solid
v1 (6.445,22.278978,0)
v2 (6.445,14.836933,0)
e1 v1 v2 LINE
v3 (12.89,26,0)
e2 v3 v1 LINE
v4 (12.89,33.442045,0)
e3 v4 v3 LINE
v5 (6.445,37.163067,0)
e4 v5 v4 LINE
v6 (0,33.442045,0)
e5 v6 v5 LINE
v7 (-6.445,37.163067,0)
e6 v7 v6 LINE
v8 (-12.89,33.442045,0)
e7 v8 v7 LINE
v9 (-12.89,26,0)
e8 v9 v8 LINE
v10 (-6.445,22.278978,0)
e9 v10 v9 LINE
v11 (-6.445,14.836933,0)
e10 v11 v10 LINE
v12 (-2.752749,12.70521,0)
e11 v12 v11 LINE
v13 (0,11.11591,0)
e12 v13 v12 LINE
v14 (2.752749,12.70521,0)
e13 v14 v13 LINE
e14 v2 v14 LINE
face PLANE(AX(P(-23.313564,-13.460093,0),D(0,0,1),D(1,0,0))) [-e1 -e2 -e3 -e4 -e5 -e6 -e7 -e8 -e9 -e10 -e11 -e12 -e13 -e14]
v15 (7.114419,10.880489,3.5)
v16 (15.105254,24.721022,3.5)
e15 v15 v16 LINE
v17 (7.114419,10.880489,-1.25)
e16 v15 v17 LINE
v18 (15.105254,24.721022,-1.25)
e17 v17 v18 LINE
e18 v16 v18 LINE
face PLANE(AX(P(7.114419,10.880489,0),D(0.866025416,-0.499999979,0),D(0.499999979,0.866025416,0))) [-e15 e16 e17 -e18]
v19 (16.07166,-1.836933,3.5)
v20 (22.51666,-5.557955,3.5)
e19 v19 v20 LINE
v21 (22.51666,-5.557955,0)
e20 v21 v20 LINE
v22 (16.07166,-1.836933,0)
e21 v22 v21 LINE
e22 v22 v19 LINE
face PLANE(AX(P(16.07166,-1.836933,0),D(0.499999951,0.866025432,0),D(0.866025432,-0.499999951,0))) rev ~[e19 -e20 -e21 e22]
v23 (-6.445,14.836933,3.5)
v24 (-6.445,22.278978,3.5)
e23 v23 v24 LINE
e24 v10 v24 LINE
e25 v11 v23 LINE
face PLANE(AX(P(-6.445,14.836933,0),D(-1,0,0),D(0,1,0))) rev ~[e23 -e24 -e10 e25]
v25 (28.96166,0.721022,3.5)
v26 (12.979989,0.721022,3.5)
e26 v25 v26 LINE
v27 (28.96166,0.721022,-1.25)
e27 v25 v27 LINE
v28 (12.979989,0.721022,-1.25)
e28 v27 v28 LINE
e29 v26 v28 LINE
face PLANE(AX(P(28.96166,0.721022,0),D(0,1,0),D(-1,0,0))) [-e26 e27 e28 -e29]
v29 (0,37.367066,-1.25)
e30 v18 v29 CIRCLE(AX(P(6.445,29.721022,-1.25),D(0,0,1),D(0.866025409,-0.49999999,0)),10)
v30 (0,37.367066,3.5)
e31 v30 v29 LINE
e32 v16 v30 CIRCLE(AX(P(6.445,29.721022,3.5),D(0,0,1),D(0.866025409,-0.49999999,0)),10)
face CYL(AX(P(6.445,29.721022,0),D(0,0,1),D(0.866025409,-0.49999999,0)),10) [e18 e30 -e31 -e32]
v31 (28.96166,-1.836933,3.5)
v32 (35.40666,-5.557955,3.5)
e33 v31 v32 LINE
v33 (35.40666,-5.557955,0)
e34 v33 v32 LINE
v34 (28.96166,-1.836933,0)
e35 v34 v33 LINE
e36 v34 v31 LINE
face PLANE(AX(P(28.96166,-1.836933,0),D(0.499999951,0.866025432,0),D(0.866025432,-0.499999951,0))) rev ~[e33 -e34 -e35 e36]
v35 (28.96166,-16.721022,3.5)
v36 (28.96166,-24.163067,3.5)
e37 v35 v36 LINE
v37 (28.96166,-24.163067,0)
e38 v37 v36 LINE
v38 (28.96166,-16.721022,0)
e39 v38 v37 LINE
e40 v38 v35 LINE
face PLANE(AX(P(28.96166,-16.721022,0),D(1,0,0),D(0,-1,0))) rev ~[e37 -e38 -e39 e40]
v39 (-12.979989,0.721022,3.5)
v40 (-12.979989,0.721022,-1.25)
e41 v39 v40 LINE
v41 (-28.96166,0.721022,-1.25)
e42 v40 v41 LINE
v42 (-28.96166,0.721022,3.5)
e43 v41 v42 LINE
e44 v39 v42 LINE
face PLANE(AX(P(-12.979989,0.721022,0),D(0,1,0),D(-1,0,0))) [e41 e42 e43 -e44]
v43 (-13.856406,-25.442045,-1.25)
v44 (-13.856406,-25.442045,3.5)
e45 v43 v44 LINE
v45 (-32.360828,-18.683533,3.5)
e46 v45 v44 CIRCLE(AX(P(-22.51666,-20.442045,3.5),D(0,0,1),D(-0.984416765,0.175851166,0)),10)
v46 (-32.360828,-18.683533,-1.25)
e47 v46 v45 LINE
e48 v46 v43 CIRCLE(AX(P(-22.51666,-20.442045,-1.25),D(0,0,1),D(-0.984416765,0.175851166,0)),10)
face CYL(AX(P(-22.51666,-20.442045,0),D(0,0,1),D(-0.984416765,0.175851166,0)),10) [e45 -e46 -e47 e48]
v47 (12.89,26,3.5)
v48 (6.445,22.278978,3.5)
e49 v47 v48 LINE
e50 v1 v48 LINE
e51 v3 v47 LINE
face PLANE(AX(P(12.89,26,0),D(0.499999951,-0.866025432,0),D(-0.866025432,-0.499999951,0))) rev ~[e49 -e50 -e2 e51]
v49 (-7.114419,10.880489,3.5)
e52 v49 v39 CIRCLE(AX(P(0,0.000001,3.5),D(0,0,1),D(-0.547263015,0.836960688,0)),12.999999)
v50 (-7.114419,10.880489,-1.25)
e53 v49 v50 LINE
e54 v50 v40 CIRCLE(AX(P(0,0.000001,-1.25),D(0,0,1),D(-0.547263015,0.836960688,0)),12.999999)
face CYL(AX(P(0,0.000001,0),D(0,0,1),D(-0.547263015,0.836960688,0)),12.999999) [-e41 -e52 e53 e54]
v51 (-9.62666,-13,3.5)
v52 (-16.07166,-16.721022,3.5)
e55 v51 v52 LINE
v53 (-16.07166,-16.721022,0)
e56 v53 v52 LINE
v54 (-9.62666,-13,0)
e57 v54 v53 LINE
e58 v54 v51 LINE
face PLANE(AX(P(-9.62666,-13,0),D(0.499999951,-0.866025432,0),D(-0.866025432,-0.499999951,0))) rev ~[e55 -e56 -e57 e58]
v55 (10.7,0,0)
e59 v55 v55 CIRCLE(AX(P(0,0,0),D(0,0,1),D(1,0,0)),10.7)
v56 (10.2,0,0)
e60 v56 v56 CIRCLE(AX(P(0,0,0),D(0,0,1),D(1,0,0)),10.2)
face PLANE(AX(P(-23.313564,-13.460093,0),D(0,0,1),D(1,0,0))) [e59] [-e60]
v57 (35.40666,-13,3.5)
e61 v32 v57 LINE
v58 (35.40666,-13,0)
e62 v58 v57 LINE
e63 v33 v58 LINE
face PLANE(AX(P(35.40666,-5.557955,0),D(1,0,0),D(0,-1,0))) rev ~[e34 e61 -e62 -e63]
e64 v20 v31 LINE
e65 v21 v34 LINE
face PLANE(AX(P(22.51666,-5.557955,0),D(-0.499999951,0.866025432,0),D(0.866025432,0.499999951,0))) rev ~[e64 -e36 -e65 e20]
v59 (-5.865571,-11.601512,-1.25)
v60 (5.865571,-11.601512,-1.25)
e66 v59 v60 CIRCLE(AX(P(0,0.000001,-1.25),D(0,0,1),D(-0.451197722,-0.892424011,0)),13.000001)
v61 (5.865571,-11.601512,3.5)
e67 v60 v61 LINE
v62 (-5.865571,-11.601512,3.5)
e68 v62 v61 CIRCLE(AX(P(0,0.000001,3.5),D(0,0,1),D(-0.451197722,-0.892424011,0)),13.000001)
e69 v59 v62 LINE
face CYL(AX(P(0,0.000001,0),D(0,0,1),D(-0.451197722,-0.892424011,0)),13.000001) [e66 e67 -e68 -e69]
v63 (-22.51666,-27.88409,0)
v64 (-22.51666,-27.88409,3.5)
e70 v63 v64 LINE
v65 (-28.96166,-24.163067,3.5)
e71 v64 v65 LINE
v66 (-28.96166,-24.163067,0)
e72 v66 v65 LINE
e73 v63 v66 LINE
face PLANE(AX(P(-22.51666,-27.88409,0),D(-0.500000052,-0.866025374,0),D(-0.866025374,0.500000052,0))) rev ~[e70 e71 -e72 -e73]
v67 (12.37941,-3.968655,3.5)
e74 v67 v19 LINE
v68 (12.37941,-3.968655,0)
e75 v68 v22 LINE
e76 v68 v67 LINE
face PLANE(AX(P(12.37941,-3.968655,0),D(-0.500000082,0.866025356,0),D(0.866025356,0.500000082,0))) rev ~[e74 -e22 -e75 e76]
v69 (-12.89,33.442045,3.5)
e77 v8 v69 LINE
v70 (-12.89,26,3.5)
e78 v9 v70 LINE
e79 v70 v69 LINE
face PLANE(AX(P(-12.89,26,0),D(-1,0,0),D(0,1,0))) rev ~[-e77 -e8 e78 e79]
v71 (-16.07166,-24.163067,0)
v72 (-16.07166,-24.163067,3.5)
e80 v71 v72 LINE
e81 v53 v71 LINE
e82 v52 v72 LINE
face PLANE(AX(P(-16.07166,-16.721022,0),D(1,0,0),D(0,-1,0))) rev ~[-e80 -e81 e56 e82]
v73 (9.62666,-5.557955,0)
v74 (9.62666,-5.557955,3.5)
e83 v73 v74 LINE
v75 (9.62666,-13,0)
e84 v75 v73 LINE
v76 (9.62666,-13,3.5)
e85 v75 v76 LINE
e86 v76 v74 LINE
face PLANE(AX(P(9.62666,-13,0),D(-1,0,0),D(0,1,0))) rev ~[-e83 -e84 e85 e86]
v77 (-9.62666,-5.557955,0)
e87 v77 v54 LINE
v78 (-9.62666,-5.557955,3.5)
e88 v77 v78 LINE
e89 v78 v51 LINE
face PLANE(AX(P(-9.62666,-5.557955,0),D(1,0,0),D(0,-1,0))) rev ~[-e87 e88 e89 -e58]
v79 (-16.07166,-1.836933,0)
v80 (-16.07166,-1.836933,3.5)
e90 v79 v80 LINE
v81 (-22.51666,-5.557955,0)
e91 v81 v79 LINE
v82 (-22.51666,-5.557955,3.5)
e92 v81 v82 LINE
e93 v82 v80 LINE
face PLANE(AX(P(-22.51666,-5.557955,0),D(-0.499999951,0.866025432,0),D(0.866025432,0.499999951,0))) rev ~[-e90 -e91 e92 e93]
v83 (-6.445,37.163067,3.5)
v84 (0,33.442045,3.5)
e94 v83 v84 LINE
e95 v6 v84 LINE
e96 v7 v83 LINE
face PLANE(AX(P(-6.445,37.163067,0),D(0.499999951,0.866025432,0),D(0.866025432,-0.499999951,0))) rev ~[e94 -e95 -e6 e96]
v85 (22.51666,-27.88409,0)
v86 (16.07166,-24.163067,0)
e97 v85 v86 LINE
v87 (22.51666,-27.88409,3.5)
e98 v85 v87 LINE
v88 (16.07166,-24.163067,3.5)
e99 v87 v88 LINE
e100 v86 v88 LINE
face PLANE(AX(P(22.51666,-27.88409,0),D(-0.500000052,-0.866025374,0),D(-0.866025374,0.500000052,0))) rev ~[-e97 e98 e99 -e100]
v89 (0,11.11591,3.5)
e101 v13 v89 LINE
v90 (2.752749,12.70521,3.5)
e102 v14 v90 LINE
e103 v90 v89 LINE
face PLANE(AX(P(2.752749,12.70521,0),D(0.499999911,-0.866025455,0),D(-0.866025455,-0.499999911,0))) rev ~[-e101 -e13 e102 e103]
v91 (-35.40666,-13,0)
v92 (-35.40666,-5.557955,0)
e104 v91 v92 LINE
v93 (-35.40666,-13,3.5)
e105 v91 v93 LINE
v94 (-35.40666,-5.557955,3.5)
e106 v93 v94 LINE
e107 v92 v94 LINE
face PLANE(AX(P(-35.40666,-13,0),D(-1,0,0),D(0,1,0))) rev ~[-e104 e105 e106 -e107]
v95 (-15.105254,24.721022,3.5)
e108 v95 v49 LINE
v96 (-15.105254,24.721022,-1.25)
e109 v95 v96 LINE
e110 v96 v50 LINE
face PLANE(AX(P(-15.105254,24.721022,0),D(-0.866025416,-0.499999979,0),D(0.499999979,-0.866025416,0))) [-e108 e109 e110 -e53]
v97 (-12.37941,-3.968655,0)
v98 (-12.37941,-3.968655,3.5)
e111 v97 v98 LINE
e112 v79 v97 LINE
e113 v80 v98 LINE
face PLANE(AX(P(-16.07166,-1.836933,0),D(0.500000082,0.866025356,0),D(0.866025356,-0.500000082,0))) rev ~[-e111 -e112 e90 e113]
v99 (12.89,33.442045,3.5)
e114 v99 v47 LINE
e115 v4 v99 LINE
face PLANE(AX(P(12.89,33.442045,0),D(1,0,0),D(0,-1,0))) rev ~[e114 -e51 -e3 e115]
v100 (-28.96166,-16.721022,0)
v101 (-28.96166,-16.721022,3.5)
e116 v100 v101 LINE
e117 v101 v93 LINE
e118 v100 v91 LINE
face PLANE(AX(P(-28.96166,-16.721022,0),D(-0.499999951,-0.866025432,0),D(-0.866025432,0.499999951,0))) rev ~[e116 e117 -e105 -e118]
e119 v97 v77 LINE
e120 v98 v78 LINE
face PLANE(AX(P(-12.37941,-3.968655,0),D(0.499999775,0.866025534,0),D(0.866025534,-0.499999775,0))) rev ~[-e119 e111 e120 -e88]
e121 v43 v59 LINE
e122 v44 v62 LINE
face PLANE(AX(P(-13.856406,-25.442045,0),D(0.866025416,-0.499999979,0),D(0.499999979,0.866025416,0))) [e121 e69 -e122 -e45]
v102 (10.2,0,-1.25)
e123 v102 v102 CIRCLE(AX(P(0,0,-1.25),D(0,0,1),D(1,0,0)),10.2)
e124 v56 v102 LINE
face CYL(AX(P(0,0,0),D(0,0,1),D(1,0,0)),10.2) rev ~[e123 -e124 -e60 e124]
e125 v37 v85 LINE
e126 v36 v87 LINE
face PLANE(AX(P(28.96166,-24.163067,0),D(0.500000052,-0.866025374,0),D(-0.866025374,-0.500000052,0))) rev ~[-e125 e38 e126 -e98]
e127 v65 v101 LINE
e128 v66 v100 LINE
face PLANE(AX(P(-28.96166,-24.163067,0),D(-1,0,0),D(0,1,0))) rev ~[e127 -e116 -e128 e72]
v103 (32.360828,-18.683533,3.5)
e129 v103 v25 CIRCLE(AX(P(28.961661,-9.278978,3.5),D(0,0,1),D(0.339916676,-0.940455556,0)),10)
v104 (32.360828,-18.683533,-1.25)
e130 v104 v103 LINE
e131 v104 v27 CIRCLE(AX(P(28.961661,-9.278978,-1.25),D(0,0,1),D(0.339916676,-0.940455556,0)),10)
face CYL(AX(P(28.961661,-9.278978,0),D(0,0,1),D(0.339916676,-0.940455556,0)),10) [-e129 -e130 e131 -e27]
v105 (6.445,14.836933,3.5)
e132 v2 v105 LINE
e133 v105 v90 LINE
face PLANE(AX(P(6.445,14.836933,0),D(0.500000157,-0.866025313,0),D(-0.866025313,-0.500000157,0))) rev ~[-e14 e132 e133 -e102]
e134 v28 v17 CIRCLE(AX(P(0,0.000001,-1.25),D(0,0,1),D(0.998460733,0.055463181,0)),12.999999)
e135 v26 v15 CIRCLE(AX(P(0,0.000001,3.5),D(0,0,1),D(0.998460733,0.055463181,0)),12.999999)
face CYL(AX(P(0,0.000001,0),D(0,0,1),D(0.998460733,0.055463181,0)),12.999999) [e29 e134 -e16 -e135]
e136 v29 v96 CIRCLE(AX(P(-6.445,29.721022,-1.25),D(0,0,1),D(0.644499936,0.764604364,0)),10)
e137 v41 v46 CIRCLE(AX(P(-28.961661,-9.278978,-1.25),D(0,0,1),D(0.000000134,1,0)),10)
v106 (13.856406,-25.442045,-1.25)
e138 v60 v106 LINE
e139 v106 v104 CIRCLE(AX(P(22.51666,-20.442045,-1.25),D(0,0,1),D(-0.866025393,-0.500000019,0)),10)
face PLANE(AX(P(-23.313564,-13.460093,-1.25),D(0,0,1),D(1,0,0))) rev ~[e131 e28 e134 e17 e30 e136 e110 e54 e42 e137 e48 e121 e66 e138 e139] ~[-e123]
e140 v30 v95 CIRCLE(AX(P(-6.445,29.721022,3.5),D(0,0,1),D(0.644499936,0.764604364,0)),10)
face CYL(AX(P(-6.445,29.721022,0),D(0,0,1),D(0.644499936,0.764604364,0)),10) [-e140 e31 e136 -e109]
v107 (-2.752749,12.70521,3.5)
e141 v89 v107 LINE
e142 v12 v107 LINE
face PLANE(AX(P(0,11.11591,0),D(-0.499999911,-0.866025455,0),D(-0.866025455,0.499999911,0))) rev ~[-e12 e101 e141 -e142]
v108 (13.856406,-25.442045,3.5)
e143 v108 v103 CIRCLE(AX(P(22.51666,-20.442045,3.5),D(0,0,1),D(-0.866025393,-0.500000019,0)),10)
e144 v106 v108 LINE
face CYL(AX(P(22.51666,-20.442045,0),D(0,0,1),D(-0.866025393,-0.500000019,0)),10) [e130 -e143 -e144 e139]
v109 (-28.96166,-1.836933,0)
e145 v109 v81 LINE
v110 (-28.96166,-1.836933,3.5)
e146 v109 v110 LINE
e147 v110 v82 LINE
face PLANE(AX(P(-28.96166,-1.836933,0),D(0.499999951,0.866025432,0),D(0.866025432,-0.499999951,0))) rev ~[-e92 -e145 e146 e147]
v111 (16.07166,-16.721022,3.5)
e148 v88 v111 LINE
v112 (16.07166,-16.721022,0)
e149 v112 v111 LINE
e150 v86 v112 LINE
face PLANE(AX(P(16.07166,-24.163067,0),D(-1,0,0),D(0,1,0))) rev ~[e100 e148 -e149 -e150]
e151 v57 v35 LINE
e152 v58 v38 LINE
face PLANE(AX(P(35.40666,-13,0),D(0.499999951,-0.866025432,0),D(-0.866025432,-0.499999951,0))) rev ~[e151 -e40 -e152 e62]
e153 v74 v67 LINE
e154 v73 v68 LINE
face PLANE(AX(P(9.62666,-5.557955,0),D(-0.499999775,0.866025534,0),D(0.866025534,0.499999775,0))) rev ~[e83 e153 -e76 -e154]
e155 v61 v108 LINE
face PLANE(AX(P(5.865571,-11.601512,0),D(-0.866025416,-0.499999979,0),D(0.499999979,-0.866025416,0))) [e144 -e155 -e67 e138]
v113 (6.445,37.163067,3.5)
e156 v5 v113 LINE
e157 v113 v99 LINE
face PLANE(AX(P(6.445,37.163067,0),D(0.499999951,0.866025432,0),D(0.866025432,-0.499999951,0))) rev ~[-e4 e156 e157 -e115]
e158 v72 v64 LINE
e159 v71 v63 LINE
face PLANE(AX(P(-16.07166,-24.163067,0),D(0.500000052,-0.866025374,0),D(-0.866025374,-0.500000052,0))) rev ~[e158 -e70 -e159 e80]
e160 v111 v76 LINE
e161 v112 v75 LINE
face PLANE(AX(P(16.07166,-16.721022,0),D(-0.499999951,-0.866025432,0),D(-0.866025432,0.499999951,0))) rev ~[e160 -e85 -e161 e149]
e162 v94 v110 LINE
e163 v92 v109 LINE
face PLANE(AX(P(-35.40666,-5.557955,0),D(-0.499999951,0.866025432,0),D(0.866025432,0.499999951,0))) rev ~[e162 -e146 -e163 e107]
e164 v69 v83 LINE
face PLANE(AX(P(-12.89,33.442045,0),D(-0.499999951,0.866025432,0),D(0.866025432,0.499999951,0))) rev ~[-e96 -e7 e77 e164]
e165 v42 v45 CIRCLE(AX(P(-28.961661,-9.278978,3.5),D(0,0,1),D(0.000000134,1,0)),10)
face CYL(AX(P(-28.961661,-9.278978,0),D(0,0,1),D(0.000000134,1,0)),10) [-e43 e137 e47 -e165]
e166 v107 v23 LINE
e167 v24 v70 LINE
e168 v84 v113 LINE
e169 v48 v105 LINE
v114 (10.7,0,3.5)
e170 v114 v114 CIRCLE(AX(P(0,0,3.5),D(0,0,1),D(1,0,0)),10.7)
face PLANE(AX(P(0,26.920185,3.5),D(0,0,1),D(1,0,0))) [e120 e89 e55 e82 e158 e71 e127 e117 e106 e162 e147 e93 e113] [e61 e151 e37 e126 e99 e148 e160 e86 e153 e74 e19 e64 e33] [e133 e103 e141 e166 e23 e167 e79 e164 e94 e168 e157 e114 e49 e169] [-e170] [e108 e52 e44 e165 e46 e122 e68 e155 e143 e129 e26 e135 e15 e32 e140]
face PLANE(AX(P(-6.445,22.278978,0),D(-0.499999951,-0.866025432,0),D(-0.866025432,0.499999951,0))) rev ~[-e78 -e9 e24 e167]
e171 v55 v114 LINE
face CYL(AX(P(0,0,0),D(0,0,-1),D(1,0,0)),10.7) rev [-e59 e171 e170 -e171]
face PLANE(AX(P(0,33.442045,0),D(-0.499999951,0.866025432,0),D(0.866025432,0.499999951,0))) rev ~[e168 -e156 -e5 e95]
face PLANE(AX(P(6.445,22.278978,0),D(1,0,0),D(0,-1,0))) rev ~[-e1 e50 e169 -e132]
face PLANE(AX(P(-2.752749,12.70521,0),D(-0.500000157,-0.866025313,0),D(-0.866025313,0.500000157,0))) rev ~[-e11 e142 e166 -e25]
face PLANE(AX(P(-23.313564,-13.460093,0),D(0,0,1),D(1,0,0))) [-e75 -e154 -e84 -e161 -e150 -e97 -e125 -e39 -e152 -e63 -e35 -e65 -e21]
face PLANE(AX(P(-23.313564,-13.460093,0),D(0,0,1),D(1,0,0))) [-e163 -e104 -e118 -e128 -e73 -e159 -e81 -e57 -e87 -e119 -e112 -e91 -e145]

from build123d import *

# Parameters (mm, degrees)
F0_R     = 10.7
F1_DEPTH = 3.5
F0_R_2   = 10.2
F2_DEPTH = 1.25


with BuildPart() as f1:
    # F0 (on Top) → F1 (new body)
    with BuildSketch(Plane.XY):
        with BuildLine():
            Line((-15.105254, 24.721022), (-7.114419, 10.880489))
            ThreePointArc((-7.114419, 10.880489), (-5.017235, 11.992804), (-2.752749, 12.70521))
            Line((-2.752749, 12.70521), (-6.445, 14.836933))
            Line((-6.445, 14.836933), (-6.445, 22.278978))
            Line((-6.445, 22.278978), (-12.89, 26))
            Line((-12.89, 26), (-12.89, 33.442045))
            Line((-12.89, 33.442045), (-6.445, 37.163067))
            Line((-6.445, 37.163067), (0, 33.442045))
            Line((0, 33.442045), (6.445, 37.163067))
            Line((6.445, 37.163067), (12.89, 33.442045))
            Line((12.89, 33.442045), (12.89, 26))
            Line((12.89, 26), (6.445, 22.278978))
            Line((6.445, 22.278978), (6.445, 14.836933))
            Line((6.445, 14.836933), (2.752749, 12.70521))
            ThreePointArc((2.752749, 12.70521), (5.017235, 11.992804), (7.114419, 10.880489))
            Line((7.114419, 10.880489), (15.105254, 24.721022))
            ThreePointArc((15.105254, 24.721022), (12.864302, 37.388653), (0, 37.367066))
            ThreePointArc((0, 37.367066), (-12.864302, 37.388653), (-15.105254, 24.721022))
        make_face()
        with BuildLine():
            ThreePointArc((-12.979989, 0.721022), (-12.894691, -1.651349), (-12.37941, -3.968655))
            Line((-12.37941, -3.968655), (-9.62666, -5.557955))
            Line((-9.62666, -5.557955), (-9.62666, -8.736556))
            ThreePointArc((-9.62666, -8.736556), (-7.877455, -10.341455), (-5.865571, -11.601512))
            ThreePointArc((-5.865571, -11.601512), (0, -13), (5.865571, -11.601512))
            ThreePointArc((5.865571, -11.601512), (7.877455, -10.341455), (9.62666, -8.736556))
            Line((9.62666, -8.736556), (9.62666, -5.557955))
            Line((9.62666, -5.557955), (12.37941, -3.968655))
            ThreePointArc((12.37941, -3.968655), (12.894691, -1.651349), (12.979989, 0.721022))
            ThreePointArc((12.979989, 0.721022), (11.25833, 6.5), (7.114419, 10.880489))
            ThreePointArc((7.114419, 10.880489), (5.017235, 11.992804), (2.752749, 12.70521))
            Line((2.752749, 12.70521), (0, 11.11591))
            Line((0, 11.11591), (-2.752749, 12.70521))
            ThreePointArc((-2.752749, 12.70521), (-5.017235, 11.992804), (-7.114419, 10.880489))
            ThreePointArc((-7.114419, 10.880489), (-11.25833, 6.5), (-12.979989, 0.721022))
        make_face()
        Circle(F0_R, mode=Mode.SUBTRACT)
        with BuildLine():
            ThreePointArc((9.62666, -8.736556), (7.877455, -10.341455), (5.865571, -11.601512))
            Line((5.865571, -11.601512), (13.856406, -25.442045))
            ThreePointArc((13.856406, -25.442045), (25.947372, -29.835139), (32.360828, -18.683533))
            ThreePointArc((32.360828, -18.683533), (38.811675, -7.553514), (28.96166, 0.721022))
            Line((28.96166, 0.721022), (12.979989, 0.721022))
            ThreePointArc((12.979989, 0.721022), (12.894691, -1.651349), (12.37941, -3.968655))
            Line((12.37941, -3.968655), (16.07166, -1.836933))
            Line((16.07166, -1.836933), (22.51666, -5.557955))
            Line((22.51666, -5.557955), (28.96166, -1.836933))
            Line((28.96166, -1.836933), (35.40666, -5.557955))
            Line((35.40666, -5.557955), (35.40666, -13))
            Line((35.40666, -13), (28.96166, -16.721022))
            Line((28.96166, -16.721022), (28.96166, -24.163067))
            Line((28.96166, -24.163067), (22.51666, -27.88409))
            Line((22.51666, -27.88409), (16.07166, -24.163067))
            Line((16.07166, -24.163067), (16.07166, -16.721022))
            Line((16.07166, -16.721022), (9.62666, -13))
            Line((9.62666, -13), (9.62666, -8.736556))
        make_face()
        with BuildLine():
            Line((-28.96166, -24.163067), (-28.96166, -16.721022))
            Line((-28.96166, -16.721022), (-35.40666, -13))
            Line((-35.40666, -13), (-35.40666, -5.557955))
            Line((-35.40666, -5.557955), (-28.96166, -1.836933))
            Line((-28.96166, -1.836933), (-22.51666, -5.557955))
            Line((-22.51666, -5.557955), (-16.07166, -1.836933))
            Line((-16.07166, -1.836933), (-12.37941, -3.968655))
            ThreePointArc((-12.37941, -3.968655), (-12.894691, -1.651349), (-12.979989, 0.721022))
            Line((-12.979989, 0.721022), (-28.96166, 0.721022))
            ThreePointArc((-28.96166, 0.721022), (-38.811675, -7.553514), (-32.360828, -18.683533))
            ThreePointArc((-32.360828, -18.683533), (-25.947372, -29.835139), (-13.856406, -25.442045))
            Line((-13.856406, -25.442045), (-5.865571, -11.601512))
            ThreePointArc((-5.865571, -11.601512), (-7.877455, -10.341455), (-9.62666, -8.736556))
            Line((-9.62666, -8.736556), (-9.62666, -13))
            Line((-9.62666, -13), (-16.07166, -16.721022))
            Line((-16.07166, -16.721022), (-16.07166, -24.163067))
            Line((-16.07166, -24.163067), (-22.51666, -27.88409))
            Line((-22.51666, -27.88409), (-28.96166, -24.163067))
        make_face()
    extrude(amount=F1_DEPTH)

    # F0 (on Top) → F2 (join)
    with BuildSketch(Plane.XY):
        with BuildLine():
            Line((-28.96166, -24.163067), (-28.96166, -16.721022))
            Line((-28.96166, -16.721022), (-35.40666, -13))
            Line((-35.40666, -13), (-35.40666, -5.557955))
            Line((-35.40666, -5.557955), (-28.96166, -1.836933))
            Line((-28.96166, -1.836933), (-22.51666, -5.557955))
            Line((-22.51666, -5.557955), (-16.07166, -1.836933))
            Line((-16.07166, -1.836933), (-12.37941, -3.968655))
            ThreePointArc((-12.37941, -3.968655), (-12.894691, -1.651349), (-12.979989, 0.721022))
            Line((-12.979989, 0.721022), (-28.96166, 0.721022))
            ThreePointArc((-28.96166, 0.721022), (-38.811675, -7.553514), (-32.360828, -18.683533))
            ThreePointArc((-32.360828, -18.683533), (-25.947372, -29.835139), (-13.856406, -25.442045))
            Line((-13.856406, -25.442045), (-5.865571, -11.601512))
            ThreePointArc((-5.865571, -11.601512), (-7.877455, -10.341455), (-9.62666, -8.736556))
            Line((-9.62666, -8.736556), (-9.62666, -13))
            Line((-9.62666, -13), (-16.07166, -16.721022))
            Line((-16.07166, -16.721022), (-16.07166, -24.163067))
            Line((-16.07166, -24.163067), (-22.51666, -27.88409))
            Line((-22.51666, -27.88409), (-28.96166, -24.163067))
        make_face()
        with BuildLine():
            ThreePointArc((-12.979989, 0.721022), (-12.894691, -1.651349), (-12.37941, -3.968655))
            Line((-12.37941, -3.968655), (-9.62666, -5.557955))
            Line((-9.62666, -5.557955), (-9.62666, -8.736556))
            ThreePointArc((-9.62666, -8.736556), (-7.877455, -10.341455), (-5.865571, -11.601512))
            ThreePointArc((-5.865571, -11.601512), (0, -13), (5.865571, -11.601512))
            ThreePointArc((5.865571, -11.601512), (7.877455, -10.341455), (9.62666, -8.736556))
            Line((9.62666, -8.736556), (9.62666, -5.557955))
            Line((9.62666, -5.557955), (12.37941, -3.968655))
            ThreePointArc((12.37941, -3.968655), (12.894691, -1.651349), (12.979989, 0.721022))
            ThreePointArc((12.979989, 0.721022), (11.25833, 6.5), (7.114419, 10.880489))
            ThreePointArc((7.114419, 10.880489), (5.017235, 11.992804), (2.752749, 12.70521))
            Line((2.752749, 12.70521), (0, 11.11591))
            Line((0, 11.11591), (-2.752749, 12.70521))
            ThreePointArc((-2.752749, 12.70521), (-5.017235, 11.992804), (-7.114419, 10.880489))
            ThreePointArc((-7.114419, 10.880489), (-11.25833, 6.5), (-12.979989, 0.721022))
        make_face()
        Circle(F0_R, mode=Mode.SUBTRACT)
        with BuildLine():
            Line((-15.105254, 24.721022), (-7.114419, 10.880489))
            ThreePointArc((-7.114419, 10.880489), (-5.017235, 11.992804), (-2.752749, 12.70521))
            Line((-2.752749, 12.70521), (-6.445, 14.836933))
            Line((-6.445, 14.836933), (-6.445, 22.278978))
            Line((-6.445, 22.278978), (-12.89, 26))
            Line((-12.89, 26), (-12.89, 33.442045))
            Line((-12.89, 33.442045), (-6.445, 37.163067))
            Line((-6.445, 37.163067), (0, 33.442045))
            Line((0, 33.442045), (6.445, 37.163067))
            Line((6.445, 37.163067), (12.89, 33.442045))
            Line((12.89, 33.442045), (12.89, 26))
            Line((12.89, 26), (6.445, 22.278978))
            Line((6.445, 22.278978), (6.445, 14.836933))
            Line((6.445, 14.836933), (2.752749, 12.70521))
            ThreePointArc((2.752749, 12.70521), (5.017235, 11.992804), (7.114419, 10.880489))
            Line((7.114419, 10.880489), (15.105254, 24.721022))
            ThreePointArc((15.105254, 24.721022), (12.864302, 37.388653), (0, 37.367066))
            ThreePointArc((0, 37.367066), (-12.864302, 37.388653), (-15.105254, 24.721022))
        make_face()
        with BuildLine():
            ThreePointArc((9.62666, -8.736556), (7.877455, -10.341455), (5.865571, -11.601512))
            Line((5.865571, -11.601512), (13.856406, -25.442045))
            ThreePointArc((13.856406, -25.442045), (25.947372, -29.835139), (32.360828, -18.683533))
            ThreePointArc((32.360828, -18.683533), (38.811675, -7.553514), (28.96166, 0.721022))
            Line((28.96166, 0.721022), (12.979989, 0.721022))
            ThreePointArc((12.979989, 0.721022), (12.894691, -1.651349), (12.37941, -3.968655))
            Line((12.37941, -3.968655), (16.07166, -1.836933))
            Line((16.07166, -1.836933), (22.51666, -5.557955))
            Line((22.51666, -5.557955), (28.96166, -1.836933))
            Line((28.96166, -1.836933), (35.40666, -5.557955))
            Line((35.40666, -5.557955), (35.40666, -13))
            Line((35.40666, -13), (28.96166, -16.721022))
            Line((28.96166, -16.721022), (28.96166, -24.163067))
            Line((28.96166, -24.163067), (22.51666, -27.88409))
            Line((22.51666, -27.88409), (16.07166, -24.163067))
            Line((16.07166, -24.163067), (16.07166, -16.721022))
            Line((16.07166, -16.721022), (9.62666, -13))
            Line((9.62666, -13), (9.62666, -8.736556))
        make_face()
        Polygon((22.51666, -13), (16.07166, -16.721022), (16.07166, -24.163067), (22.51666, -27.88409), (28.96166, -24.163067), (28.96166, -16.721022), align=None)
        Polygon((0, 33.442045), (0, 26), (6.445, 22.278978), (12.89, 26), (12.89, 33.442045), (6.445, 37.163067), align=None)
        Polygon((-12.89, 26), (-6.445, 22.278978), (0, 26), (0, 33.442045), (-6.445, 37.163067), (-12.89, 33.442045), align=None)
        Polygon((-6.445, 14.836933), (-2.752749, 12.70521), (0, 11.11591), (2.752749, 12.70521), (6.445, 14.836933), (6.445, 22.278978), (0, 26), (-6.445, 22.278978), align=None)
        Polygon((22.51666, -5.557955), (22.51666, -13), (28.96166, -16.721022), (35.40666, -13), (35.40666, -5.557955), (28.96166, -1.836933), align=None)
        Polygon((9.62666, -5.557955), (9.62666, -8.736556), (9.62666, -13), (16.07166, -16.721022), (22.51666, -13), (22.51666, -5.557955), (16.07166, -1.836933), (12.37941, -3.968655), align=None)
        Polygon((-22.51666, -5.557955), (-22.51666, -13), (-16.07166, -16.721022), (-9.62666, -13), (-9.62666, -8.736556), (-9.62666, -5.557955), (-12.37941, -3.968655), (-16.07166, -1.836933), align=None)
        Polygon((-28.96166, -16.721022), (-22.51666, -13), (-22.51666, -5.557955), (-28.96166, -1.836933), (-35.40666, -5.557955), (-35.40666, -13), align=None)
        Polygon((-16.07166, -16.721022), (-22.51666, -13), (-28.96166, -16.721022), (-28.96166, -24.163067), (-22.51666, -27.88409), (-16.07166, -24.163067), align=None)
        Circle(F0_R)
        Circle(F0_R_2, mode=Mode.SUBTRACT)
    extrude(amount=-F2_DEPTH)


solid = f1.part
